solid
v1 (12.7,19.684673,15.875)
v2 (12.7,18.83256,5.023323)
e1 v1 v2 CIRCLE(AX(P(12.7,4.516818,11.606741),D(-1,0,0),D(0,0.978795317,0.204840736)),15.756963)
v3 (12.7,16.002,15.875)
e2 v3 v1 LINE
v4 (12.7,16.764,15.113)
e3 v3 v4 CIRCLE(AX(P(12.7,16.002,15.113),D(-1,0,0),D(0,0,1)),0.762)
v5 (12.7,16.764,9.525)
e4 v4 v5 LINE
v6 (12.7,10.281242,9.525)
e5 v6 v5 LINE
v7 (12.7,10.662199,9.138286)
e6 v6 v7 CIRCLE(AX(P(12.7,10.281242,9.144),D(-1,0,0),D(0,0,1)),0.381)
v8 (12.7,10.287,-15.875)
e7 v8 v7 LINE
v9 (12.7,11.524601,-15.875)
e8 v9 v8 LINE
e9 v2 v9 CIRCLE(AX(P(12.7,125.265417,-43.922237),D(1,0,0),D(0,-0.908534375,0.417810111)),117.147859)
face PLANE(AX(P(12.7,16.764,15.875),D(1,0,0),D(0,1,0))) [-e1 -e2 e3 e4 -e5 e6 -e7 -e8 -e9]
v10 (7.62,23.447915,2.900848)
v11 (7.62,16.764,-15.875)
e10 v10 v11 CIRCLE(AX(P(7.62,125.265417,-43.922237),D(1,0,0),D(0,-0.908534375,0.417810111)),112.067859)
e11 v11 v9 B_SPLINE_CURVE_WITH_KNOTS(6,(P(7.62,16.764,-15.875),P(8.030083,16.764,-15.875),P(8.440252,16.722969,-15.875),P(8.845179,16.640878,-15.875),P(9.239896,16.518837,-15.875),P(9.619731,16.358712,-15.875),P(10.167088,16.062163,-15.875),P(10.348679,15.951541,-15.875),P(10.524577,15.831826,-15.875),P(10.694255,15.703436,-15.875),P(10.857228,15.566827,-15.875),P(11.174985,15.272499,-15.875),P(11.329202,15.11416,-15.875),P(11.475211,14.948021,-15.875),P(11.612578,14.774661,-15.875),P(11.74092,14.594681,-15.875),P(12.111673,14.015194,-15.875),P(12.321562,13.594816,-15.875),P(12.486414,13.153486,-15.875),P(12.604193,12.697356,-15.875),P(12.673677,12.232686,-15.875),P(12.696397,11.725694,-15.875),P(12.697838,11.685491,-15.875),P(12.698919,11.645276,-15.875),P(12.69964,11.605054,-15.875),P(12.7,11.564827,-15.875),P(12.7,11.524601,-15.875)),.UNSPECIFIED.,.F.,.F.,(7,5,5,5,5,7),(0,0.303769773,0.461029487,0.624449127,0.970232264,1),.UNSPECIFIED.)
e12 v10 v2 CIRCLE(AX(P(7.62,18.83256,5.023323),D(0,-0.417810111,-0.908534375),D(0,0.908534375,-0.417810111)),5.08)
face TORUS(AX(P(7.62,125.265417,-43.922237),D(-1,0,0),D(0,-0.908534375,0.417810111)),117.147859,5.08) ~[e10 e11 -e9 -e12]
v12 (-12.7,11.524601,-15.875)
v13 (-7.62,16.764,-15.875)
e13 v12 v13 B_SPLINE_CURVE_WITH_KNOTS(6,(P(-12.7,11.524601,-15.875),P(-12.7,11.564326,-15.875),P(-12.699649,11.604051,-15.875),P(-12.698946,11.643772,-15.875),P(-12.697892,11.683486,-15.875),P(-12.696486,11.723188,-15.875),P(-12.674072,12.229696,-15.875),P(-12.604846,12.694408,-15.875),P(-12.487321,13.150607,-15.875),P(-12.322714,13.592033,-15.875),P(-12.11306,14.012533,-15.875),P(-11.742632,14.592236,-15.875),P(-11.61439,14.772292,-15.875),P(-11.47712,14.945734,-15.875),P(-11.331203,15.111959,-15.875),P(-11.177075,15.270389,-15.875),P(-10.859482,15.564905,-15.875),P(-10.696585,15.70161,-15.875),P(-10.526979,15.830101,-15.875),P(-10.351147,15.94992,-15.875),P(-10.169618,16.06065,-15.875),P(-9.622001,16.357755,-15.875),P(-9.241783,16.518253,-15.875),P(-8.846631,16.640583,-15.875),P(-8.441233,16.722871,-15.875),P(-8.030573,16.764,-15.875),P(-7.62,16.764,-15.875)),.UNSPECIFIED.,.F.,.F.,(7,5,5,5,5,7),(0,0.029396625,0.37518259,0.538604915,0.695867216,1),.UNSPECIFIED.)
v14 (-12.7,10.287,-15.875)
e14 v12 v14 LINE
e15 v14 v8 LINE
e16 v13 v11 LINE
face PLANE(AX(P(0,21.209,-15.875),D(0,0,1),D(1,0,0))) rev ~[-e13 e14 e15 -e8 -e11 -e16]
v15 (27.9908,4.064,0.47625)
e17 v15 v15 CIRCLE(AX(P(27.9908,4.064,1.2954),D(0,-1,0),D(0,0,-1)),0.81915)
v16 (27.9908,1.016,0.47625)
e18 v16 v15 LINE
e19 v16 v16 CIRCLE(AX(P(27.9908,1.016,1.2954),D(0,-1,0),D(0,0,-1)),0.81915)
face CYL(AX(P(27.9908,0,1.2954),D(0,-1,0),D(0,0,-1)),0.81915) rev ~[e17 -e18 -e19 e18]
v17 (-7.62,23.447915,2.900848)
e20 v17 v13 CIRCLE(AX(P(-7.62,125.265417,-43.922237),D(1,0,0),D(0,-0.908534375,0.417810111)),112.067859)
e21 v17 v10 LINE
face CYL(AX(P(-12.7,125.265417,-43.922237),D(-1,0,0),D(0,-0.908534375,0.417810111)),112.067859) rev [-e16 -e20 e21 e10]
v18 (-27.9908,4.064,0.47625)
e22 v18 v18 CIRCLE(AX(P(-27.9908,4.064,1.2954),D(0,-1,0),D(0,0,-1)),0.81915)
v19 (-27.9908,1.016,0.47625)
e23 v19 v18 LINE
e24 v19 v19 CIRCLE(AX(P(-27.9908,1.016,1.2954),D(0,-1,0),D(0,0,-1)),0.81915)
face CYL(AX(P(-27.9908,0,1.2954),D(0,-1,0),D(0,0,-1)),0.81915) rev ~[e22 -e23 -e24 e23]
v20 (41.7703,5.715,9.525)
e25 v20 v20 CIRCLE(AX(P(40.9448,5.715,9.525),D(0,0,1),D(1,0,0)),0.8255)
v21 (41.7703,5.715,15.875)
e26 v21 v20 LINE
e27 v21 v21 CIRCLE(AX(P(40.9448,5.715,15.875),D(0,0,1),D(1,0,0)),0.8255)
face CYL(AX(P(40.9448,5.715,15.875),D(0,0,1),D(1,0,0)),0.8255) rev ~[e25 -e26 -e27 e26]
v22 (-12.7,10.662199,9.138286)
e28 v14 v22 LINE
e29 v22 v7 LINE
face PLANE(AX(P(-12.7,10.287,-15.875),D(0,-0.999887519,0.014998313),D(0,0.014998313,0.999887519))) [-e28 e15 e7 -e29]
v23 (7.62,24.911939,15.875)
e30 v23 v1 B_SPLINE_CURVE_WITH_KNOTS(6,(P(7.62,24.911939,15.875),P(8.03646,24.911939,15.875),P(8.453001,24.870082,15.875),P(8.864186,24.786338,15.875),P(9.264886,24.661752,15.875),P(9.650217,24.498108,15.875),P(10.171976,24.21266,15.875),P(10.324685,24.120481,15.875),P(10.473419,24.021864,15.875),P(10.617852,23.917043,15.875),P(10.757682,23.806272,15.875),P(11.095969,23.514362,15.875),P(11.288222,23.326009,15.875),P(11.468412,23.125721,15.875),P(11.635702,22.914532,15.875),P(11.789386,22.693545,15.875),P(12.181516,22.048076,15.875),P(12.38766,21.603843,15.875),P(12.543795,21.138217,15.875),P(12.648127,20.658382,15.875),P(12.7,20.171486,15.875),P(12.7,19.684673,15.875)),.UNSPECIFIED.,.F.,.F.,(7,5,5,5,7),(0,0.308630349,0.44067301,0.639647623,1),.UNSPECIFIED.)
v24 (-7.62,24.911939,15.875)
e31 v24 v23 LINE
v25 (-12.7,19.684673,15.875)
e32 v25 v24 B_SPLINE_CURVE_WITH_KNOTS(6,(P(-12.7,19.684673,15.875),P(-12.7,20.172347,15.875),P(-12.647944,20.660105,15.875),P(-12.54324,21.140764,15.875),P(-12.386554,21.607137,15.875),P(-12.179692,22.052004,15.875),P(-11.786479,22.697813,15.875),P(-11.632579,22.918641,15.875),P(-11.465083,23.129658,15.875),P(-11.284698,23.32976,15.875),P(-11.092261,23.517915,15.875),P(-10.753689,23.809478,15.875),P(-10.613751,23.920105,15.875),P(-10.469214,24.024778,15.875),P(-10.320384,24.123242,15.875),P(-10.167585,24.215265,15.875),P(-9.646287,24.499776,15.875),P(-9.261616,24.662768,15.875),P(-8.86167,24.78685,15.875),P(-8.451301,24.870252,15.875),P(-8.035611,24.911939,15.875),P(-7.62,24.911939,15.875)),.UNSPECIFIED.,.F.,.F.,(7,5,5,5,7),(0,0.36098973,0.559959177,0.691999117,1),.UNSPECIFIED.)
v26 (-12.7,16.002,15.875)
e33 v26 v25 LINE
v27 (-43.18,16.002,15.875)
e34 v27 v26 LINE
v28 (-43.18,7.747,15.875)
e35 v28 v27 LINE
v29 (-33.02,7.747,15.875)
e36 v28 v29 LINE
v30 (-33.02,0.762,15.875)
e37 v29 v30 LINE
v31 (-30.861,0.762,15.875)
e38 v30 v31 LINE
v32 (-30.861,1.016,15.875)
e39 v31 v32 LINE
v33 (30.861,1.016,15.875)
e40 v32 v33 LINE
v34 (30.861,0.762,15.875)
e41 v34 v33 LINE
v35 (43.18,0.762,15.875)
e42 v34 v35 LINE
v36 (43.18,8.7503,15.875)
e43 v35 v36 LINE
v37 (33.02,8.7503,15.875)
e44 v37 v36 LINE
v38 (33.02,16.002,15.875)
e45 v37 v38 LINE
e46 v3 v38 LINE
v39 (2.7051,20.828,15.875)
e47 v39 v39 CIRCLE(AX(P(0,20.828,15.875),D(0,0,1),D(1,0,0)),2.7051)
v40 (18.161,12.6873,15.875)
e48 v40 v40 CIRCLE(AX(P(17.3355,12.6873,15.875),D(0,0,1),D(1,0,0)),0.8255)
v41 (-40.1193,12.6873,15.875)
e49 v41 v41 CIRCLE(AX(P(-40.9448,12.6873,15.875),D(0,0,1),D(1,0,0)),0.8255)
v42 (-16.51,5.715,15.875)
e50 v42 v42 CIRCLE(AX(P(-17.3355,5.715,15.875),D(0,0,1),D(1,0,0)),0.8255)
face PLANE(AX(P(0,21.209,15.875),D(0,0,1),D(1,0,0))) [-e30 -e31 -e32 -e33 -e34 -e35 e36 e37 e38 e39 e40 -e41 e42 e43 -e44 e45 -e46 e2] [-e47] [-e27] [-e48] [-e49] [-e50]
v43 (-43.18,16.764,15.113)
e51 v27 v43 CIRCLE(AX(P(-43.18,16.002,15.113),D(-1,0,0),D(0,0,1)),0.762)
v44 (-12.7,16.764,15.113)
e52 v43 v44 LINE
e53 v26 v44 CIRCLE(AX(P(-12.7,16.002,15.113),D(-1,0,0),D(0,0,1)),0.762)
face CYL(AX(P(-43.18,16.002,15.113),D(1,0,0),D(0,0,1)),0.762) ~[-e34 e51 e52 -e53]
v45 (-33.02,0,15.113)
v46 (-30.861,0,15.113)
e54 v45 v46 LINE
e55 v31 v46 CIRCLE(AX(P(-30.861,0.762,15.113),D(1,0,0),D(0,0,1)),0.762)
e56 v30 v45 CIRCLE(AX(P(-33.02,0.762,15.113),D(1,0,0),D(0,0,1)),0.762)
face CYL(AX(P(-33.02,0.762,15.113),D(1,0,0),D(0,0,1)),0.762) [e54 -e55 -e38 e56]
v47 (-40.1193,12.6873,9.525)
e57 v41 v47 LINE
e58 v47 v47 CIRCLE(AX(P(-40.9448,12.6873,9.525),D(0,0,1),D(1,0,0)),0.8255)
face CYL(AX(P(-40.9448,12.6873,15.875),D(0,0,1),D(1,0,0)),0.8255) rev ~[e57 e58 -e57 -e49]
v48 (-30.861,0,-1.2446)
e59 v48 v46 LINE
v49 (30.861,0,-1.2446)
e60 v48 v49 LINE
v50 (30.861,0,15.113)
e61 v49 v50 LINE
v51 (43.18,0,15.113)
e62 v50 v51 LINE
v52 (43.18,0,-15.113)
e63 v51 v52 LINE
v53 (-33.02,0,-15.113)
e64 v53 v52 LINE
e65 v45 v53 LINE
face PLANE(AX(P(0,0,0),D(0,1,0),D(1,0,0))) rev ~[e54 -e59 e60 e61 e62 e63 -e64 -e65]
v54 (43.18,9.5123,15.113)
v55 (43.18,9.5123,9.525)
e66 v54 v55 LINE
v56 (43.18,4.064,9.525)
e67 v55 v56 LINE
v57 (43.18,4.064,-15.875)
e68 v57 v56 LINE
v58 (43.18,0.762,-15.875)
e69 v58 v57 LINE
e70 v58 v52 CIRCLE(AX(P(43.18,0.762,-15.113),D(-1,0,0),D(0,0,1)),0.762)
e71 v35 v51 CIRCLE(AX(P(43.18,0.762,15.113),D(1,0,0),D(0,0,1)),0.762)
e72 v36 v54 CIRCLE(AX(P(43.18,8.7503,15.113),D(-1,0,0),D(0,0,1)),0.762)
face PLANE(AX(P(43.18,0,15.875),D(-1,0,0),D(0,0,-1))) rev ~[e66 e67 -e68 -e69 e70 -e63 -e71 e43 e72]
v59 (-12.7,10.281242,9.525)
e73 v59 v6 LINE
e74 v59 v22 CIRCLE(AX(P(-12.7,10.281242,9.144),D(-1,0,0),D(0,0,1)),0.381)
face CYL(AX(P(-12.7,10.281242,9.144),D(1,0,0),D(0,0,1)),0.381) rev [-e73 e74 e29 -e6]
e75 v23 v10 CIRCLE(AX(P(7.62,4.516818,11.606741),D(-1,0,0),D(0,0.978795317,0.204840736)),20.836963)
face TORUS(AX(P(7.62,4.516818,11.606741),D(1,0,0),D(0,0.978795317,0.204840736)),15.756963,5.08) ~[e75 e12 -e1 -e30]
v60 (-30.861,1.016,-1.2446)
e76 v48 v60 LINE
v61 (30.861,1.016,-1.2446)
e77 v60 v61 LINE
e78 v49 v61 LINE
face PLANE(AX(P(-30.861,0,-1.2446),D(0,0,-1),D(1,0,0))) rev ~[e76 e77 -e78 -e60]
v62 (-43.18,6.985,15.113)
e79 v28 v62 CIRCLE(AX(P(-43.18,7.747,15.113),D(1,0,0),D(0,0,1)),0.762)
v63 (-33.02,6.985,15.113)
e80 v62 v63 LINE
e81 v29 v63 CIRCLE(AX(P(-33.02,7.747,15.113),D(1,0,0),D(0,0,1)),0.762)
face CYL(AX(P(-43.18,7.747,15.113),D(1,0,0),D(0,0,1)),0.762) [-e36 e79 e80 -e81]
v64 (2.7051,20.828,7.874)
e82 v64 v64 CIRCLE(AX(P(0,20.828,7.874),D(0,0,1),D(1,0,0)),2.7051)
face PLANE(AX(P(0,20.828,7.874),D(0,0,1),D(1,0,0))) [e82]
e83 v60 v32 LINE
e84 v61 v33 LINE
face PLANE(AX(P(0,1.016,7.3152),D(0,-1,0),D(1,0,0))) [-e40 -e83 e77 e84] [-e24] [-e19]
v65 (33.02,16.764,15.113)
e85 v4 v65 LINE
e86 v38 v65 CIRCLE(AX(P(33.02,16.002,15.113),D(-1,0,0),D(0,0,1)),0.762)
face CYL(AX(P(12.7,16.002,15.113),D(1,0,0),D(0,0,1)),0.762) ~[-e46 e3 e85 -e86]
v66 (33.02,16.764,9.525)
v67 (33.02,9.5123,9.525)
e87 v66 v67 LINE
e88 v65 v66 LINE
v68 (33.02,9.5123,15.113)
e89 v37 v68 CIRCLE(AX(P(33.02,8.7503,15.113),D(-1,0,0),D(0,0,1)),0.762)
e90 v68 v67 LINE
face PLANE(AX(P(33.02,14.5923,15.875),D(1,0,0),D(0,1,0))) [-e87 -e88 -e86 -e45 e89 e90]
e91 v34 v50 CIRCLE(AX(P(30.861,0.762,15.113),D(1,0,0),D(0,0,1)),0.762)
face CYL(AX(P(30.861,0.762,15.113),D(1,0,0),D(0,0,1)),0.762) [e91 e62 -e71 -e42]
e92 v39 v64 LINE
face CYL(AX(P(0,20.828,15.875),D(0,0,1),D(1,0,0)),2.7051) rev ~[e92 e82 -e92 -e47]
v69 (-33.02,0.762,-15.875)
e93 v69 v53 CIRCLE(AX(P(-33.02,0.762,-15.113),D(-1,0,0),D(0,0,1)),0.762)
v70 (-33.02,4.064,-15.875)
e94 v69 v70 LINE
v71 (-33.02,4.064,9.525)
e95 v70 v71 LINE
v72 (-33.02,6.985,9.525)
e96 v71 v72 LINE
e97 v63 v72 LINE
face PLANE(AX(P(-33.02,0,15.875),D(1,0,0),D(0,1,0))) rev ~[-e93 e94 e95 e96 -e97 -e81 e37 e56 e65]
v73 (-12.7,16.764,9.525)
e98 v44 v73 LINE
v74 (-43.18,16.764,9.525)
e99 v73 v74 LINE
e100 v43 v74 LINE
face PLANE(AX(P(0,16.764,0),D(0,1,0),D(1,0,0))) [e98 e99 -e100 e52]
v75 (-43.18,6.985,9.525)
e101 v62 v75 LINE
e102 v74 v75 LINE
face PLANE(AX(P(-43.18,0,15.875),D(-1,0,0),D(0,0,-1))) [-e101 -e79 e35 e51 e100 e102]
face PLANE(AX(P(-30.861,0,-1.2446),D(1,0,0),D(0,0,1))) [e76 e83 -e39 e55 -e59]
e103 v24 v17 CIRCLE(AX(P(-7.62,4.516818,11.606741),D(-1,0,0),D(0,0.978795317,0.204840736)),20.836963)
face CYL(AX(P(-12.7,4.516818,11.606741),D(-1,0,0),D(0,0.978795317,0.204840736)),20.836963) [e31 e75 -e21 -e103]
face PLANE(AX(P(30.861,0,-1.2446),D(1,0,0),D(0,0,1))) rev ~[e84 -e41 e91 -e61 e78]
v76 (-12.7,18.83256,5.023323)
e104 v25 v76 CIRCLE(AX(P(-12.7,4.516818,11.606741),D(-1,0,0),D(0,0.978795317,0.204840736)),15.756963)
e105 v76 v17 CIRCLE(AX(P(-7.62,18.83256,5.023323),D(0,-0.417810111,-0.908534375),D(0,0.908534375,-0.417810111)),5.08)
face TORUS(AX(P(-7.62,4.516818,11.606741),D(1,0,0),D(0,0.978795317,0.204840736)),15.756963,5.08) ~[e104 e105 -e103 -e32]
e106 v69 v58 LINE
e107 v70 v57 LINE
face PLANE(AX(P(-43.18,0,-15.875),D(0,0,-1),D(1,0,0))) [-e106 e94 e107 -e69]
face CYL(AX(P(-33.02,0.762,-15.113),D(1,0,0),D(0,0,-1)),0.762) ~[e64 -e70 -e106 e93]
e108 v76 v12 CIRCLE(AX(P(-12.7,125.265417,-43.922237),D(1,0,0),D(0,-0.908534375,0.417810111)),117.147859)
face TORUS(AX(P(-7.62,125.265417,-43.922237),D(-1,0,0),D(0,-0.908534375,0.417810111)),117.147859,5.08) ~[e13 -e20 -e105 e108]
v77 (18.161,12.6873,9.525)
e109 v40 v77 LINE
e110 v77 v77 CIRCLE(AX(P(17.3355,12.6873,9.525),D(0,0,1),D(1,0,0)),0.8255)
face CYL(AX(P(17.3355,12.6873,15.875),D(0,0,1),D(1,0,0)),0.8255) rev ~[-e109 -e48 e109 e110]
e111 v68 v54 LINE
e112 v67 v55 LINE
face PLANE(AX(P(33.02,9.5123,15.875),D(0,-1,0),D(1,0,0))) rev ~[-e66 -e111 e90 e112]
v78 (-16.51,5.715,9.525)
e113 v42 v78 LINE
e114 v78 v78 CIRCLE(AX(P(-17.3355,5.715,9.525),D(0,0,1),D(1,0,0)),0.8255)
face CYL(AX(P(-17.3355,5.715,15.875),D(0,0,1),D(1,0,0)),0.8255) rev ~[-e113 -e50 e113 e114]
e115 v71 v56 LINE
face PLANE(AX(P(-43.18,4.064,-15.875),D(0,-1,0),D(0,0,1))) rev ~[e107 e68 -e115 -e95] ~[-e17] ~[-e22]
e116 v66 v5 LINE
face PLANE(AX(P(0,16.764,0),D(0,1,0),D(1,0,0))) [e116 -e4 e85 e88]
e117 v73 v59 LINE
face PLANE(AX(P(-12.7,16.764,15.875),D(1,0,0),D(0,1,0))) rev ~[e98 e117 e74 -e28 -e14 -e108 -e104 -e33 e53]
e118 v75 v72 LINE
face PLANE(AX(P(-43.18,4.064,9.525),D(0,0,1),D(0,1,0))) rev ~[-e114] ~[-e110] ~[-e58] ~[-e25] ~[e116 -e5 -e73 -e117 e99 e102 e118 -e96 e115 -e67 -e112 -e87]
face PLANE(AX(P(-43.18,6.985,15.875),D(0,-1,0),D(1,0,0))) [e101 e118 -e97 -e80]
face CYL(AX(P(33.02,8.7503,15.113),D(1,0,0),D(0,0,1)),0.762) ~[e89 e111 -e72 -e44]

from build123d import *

# Parameters (mm, degrees)
SKETCH1_W           = 86.36
SKETCH1_H           = 31.75
BOSS_EXTRUDE1_DEPTH = 16.764
SKETCH2_W           = 25.4
SKETCH2_H           = 6.35
CUT_EXTRUDE1_DEPTH  = 86.36
SKETCH3_W           = 25.4
SKETCH3_H           = 6.35
CUT_EXTRUDE2_DEPTH  = 50.8
SKETCH5_W           = 61.722
SKETCH5_H           = 17.1196
CUT_EXTRUDE3_DEPTH  = 1.016
SKETCH5_3_R         = 0.81915
CUT_EXTRUDE4_DEPTH  = 49.964882528
CUT_EXTRUDE8_REACH  = 58.157
SKETCH6_W           = 10.16
SKETCH6_H           = 5.08
SKETCH6_R           = 0.8255
SKETCH6_H_2         = 6.985
SKETCH6_H_3         = 2.1717
SKETCH7_W           = 25.4
SKETCH7_H           = 7.62
BOSS_EXTRUDE2_DEPTH = 25.4
CUT_EXTRUDE9_DEPTH  = 25.4
FILLET1_R           = 0.381
SKETCH11_W          = 25.4
SKETCH11_H          = 8.89
BOSS_EXTRUDE5_DEPTH = 31.75
FILLET2_R           = 0.762
CUT_EXTRUDE10_DEPTH = 25.4
FILLET4_R           = 5.08
SKETCH10_R          = 2.7051
CUT_EXTRUDE11_DEPTH = 8.001


with BuildPart() as part:
    # Sketch1 → Boss-Extrude1 (new body)
    with BuildSketch(Plane(origin=(0, 0, 0), x_dir=(1, 0, 0), z_dir=(0, 1, 0))):
        Rectangle(SKETCH1_W, SKETCH1_H)
    extrude(amount=BOSS_EXTRUDE1_DEPTH)

    # Sketch2 → Cut-Extrude1 (cut)
    with BuildSketch(Plane.ZY.offset(43.18)):
        with Locations((-3.175, 7.239)):
            Rectangle(SKETCH2_W, SKETCH2_H)
    extrude(amount=-CUT_EXTRUDE1_DEPTH, mode=Mode.SUBTRACT)

    # Sketch3 → Cut-Extrude2 (cut)
    with BuildSketch(Plane.ZY.offset(43.18)):
        with Locations((-3.175, 13.589)):
            Rectangle(SKETCH3_W, SKETCH3_H)
    cut_extrude2 = extrude(amount=-CUT_EXTRUDE2_DEPTH, mode=Mode.SUBTRACT)

    # Mirror1: Cut-Extrude2 across plane
    add(cut_extrude2.mirror(Plane(origin=(0, 0, 0), x_dir=(0, 0, 1), z_dir=(1, 0, 0))), mode=Mode.SUBTRACT)

    # Sketch5 → Cut-Extrude3 (cut)
    with BuildSketch(Plane.XZ):
        with Locations((0, 7.3152)):
            Rectangle(SKETCH5_W, SKETCH5_H)
    extrude(amount=-CUT_EXTRUDE3_DEPTH, mode=Mode.SUBTRACT)

    # Sketch5<3> → Cut-Extrude4 (cut, through all)
    with BuildSketch(Plane.XZ):
        with Locations(Location((-27.9908, 1.2954, 0), (0, 0, 270))):
            Circle(SKETCH5_3_R)
        with Locations(Location((27.9908, 1.2954, 0), (0, 0, 270))):
            Circle(SKETCH5_3_R)
    extrude(amount=-CUT_EXTRUDE4_DEPTH, mode=Mode.SUBTRACT)

    # Cut-Extrude8: up to this face of the body (flat: up to its plane)
    cut_extrude8_end = Plane(part.part.faces().sort_by_distance((0, 2.032, -15.875))[0])
    # Sketch6 → Cut-Extrude8 (cut, up to the picked face)
    with BuildSketch(Plane.XY.offset(15.875), mode=Mode.PRIVATE) as cut_extrude8_sk1:
        with Locations((38.1, 12.0523)):
            Rectangle(SKETCH6_W, SKETCH6_H)
        with Locations((40.9448, 12.6873)):
            Circle(SKETCH6_R, mode=Mode.SUBTRACT)
    cut_extrude8_tool1 = split(extrude(cut_extrude8_sk1.sketch, amount=-CUT_EXTRUDE8_REACH, mode=Mode.PRIVATE), bisect_by=cut_extrude8_end, keep=Keep.BOTH, mode=Mode.PRIVATE)
    # Sketch6 → Cut-Extrude8 (cut, up to the picked face)
    with BuildSketch(Plane.XY.offset(15.875), mode=Mode.PRIVATE) as cut_extrude8_sk2:
        with Locations((40.9448, 12.6873)):
            Circle(SKETCH6_R)
    cut_extrude8_tool2 = split(extrude(cut_extrude8_sk2.sketch, amount=-CUT_EXTRUDE8_REACH, mode=Mode.PRIVATE), bisect_by=cut_extrude8_end, keep=Keep.BOTH, mode=Mode.PRIVATE)
    # Sketch6 → Cut-Extrude8 (cut, up to the picked face)
    with BuildSketch(Plane.XY.offset(15.875), mode=Mode.PRIVATE) as cut_extrude8_sk3:
        with Locations((17.3355, 12.6873)):
            Circle(SKETCH6_R)
    cut_extrude8_tool3 = split(extrude(cut_extrude8_sk3.sketch, amount=-CUT_EXTRUDE8_REACH, mode=Mode.PRIVATE), bisect_by=cut_extrude8_end, keep=Keep.BOTH, mode=Mode.PRIVATE)
    # Sketch6 → Cut-Extrude8 (cut, up to the picked face)
    with BuildSketch(Plane.XY.offset(15.875), mode=Mode.PRIVATE) as cut_extrude8_sk4:
        with Locations((40.9448, 5.715)):
            Circle(SKETCH6_R)
    cut_extrude8_tool4 = split(extrude(cut_extrude8_sk4.sketch, amount=-CUT_EXTRUDE8_REACH, mode=Mode.PRIVATE), bisect_by=cut_extrude8_end, keep=Keep.BOTH, mode=Mode.PRIVATE)
    # Sketch6 → Cut-Extrude8 (cut, up to the picked face)
    with BuildSketch(Plane.XY.offset(15.875), mode=Mode.PRIVATE) as cut_extrude8_sk5:
        with Locations((-38.1, 3.4925)):
            Rectangle(SKETCH6_W, SKETCH6_H_2)
        with Locations((-40.9448, 5.715)):
            Circle(SKETCH6_R, mode=Mode.SUBTRACT)
    cut_extrude8_tool5 = split(extrude(cut_extrude8_sk5.sketch, amount=-CUT_EXTRUDE8_REACH, mode=Mode.PRIVATE), bisect_by=cut_extrude8_end, keep=Keep.BOTH, mode=Mode.PRIVATE)
    # Sketch6 → Cut-Extrude8 (cut, up to the picked face)
    with BuildSketch(Plane.XY.offset(15.875), mode=Mode.PRIVATE) as cut_extrude8_sk6:
        with Locations((-40.9448, 5.715)):
            Circle(SKETCH6_R)
    cut_extrude8_tool6 = split(extrude(cut_extrude8_sk6.sketch, amount=-CUT_EXTRUDE8_REACH, mode=Mode.PRIVATE), bisect_by=cut_extrude8_end, keep=Keep.BOTH, mode=Mode.PRIVATE)
    # Sketch6 → Cut-Extrude8 (cut, up to the picked face)
    with BuildSketch(Plane.XY.offset(15.875), mode=Mode.PRIVATE) as cut_extrude8_sk7:
        with Locations((-17.3355, 5.715)):
            Circle(SKETCH6_R)
    cut_extrude8_tool7 = split(extrude(cut_extrude8_sk7.sketch, amount=-CUT_EXTRUDE8_REACH, mode=Mode.PRIVATE), bisect_by=cut_extrude8_end, keep=Keep.BOTH, mode=Mode.PRIVATE)
    # Sketch6 → Cut-Extrude8 (cut, up to the picked face)
    with BuildSketch(Plane.XY.offset(15.875), mode=Mode.PRIVATE) as cut_extrude8_sk8:
        with Locations((-40.9448, 12.6873)):
            Circle(SKETCH6_R)
    cut_extrude8_tool8 = split(extrude(cut_extrude8_sk8.sketch, amount=-CUT_EXTRUDE8_REACH, mode=Mode.PRIVATE), bisect_by=cut_extrude8_end, keep=Keep.BOTH, mode=Mode.PRIVATE)
    # Sketch6 → Cut-Extrude8 (cut, up to the picked face)
    with BuildSketch(Plane.XY.offset(15.875), mode=Mode.PRIVATE) as cut_extrude8_sk9:
        with Locations((38.1, 15.67815)):
            Rectangle(SKETCH6_W, SKETCH6_H_3)
    cut_extrude8_tool9 = split(extrude(cut_extrude8_sk9.sketch, amount=-CUT_EXTRUDE8_REACH, mode=Mode.PRIVATE), bisect_by=cut_extrude8_end, keep=Keep.BOTH, mode=Mode.PRIVATE)
    add(cut_extrude8_tool1.solids().sort_by(Axis((37.976895, 12.024821, 15.875), (0, 0, -1)))[0], mode=Mode.SUBTRACT)
    add(cut_extrude8_tool2.solids().sort_by(Axis((40.9448, 12.6873, 15.875), (0, 0, -1)))[0], mode=Mode.SUBTRACT)
    add(cut_extrude8_tool3.solids().sort_by(Axis((17.3355, 12.6873, 15.875), (0, 0, -1)))[0], mode=Mode.SUBTRACT)
    add(cut_extrude8_tool4.solids().sort_by(Axis((40.9448, 5.715, 15.875), (0, 0, -1)))[0], mode=Mode.SUBTRACT)
    add(cut_extrude8_tool5.solids().sort_by(Axis((-38.011513, 3.42337, 15.875), (0, 0, -1)))[0], mode=Mode.SUBTRACT)
    add(cut_extrude8_tool6.solids().sort_by(Axis((-40.9448, 5.715, 15.875), (0, 0, -1)))[0], mode=Mode.SUBTRACT)
    add(cut_extrude8_tool7.solids().sort_by(Axis((-17.3355, 5.715, 15.875), (0, 0, -1)))[0], mode=Mode.SUBTRACT)
    add(cut_extrude8_tool8.solids().sort_by(Axis((-40.9448, 12.6873, 15.875), (0, 0, -1)))[0], mode=Mode.SUBTRACT)
    add(cut_extrude8_tool9.solids().sort_by(Axis((38.1, 15.67815, 15.875), (0, 0, -1)))[0], mode=Mode.SUBTRACT)

    # Sketch7 → Boss-Extrude2 (add)
    with BuildSketch(Plane(origin=(0, 0, 9.525), x_dir=(-1, 0, 0), z_dir=(0, 0, -1))):
        with Locations((0, 12.954)):
            Rectangle(SKETCH7_W, SKETCH7_H)
    extrude(amount=BOSS_EXTRUDE2_DEPTH)

    # Sketch8 → Cut-Extrude9 (cut)
    with BuildSketch(Plane.ZY.offset(12.7)):
        Polygon((-15.875, 10.287), (9.525, 10.668), (9.525, 9.144), (-15.875, 9.144), align=None)
    extrude(amount=-CUT_EXTRUDE9_DEPTH, mode=Mode.SUBTRACT)

    # Fillet1
    fillet1_edges = [part.edges().sort_by_distance(p)[0] for p in [
        (0, 10.668, 9.525),
    ]]
    fillet(fillet1_edges, radius=FILLET1_R)

    # Sketch11 → Boss-Extrude5 (add)
    with BuildSketch(Plane.XY.offset(15.875)):
        with Locations((0, 21.209)):
            Rectangle(SKETCH11_W, SKETCH11_H)
    extrude(amount=-BOSS_EXTRUDE5_DEPTH)

    # Fillet2
    fillet2_edges = [part.edges().sort_by_distance(p)[0] for p in [
        (-31.9405, 0, 15.875),
        (-38.1, 6.985, 15.875),
        (38.1, 9.5123, 15.875),
        (-27.94, 16.764, 15.875),
        (22.86, 16.764, 15.875),
        (5.08, 0, -15.875),
        (37.0205, 0, 15.875),
    ]]
    fillet(fillet2_edges, radius=FILLET2_R)

    # Sketch12 → Cut-Extrude10 (cut)
    with BuildSketch(Plane.ZY.offset(12.7)):
        with BuildLine():
            Line((-15.875, 16.764), (-15.875, 25.654))
            Line((-15.875, 25.654), (15.875, 25.654))
            Line((15.875, 25.654), (15.875, 24.911939438))
            ThreePointArc((15.875, 24.911939438), (9.270292434, 25.222373256), (2.900847527, 23.447914815))
            ThreePointArc((2.900847527, 23.447914815), (-6.338198623, 19.687743912), (-15.875, 16.764))
        make_face()
    extrude(amount=-CUT_EXTRUDE10_DEPTH, mode=Mode.SUBTRACT)

    # Fillet4
    fillet4_edges = [part.edges().sort_by_distance(p)[0] for p in [
        (-12.7, 19.687743912, -6.338198623),
        (-12.7, 25.222373256, 9.270292434),
        (12.7, 19.687743912, -6.338198623),
        (12.7, 25.222373256, 9.270292434),
    ]]
    fillet(fillet4_edges, radius=FILLET4_R)

    # Sketch10 → Cut-Extrude11 (cut)
    with BuildSketch(Plane.XY.offset(15.875)):
        with Locations((0, 20.828)):
            Circle(SKETCH10_R)
    extrude(amount=-CUT_EXTRUDE11_DEPTH, mode=Mode.SUBTRACT)


solid = part.part
